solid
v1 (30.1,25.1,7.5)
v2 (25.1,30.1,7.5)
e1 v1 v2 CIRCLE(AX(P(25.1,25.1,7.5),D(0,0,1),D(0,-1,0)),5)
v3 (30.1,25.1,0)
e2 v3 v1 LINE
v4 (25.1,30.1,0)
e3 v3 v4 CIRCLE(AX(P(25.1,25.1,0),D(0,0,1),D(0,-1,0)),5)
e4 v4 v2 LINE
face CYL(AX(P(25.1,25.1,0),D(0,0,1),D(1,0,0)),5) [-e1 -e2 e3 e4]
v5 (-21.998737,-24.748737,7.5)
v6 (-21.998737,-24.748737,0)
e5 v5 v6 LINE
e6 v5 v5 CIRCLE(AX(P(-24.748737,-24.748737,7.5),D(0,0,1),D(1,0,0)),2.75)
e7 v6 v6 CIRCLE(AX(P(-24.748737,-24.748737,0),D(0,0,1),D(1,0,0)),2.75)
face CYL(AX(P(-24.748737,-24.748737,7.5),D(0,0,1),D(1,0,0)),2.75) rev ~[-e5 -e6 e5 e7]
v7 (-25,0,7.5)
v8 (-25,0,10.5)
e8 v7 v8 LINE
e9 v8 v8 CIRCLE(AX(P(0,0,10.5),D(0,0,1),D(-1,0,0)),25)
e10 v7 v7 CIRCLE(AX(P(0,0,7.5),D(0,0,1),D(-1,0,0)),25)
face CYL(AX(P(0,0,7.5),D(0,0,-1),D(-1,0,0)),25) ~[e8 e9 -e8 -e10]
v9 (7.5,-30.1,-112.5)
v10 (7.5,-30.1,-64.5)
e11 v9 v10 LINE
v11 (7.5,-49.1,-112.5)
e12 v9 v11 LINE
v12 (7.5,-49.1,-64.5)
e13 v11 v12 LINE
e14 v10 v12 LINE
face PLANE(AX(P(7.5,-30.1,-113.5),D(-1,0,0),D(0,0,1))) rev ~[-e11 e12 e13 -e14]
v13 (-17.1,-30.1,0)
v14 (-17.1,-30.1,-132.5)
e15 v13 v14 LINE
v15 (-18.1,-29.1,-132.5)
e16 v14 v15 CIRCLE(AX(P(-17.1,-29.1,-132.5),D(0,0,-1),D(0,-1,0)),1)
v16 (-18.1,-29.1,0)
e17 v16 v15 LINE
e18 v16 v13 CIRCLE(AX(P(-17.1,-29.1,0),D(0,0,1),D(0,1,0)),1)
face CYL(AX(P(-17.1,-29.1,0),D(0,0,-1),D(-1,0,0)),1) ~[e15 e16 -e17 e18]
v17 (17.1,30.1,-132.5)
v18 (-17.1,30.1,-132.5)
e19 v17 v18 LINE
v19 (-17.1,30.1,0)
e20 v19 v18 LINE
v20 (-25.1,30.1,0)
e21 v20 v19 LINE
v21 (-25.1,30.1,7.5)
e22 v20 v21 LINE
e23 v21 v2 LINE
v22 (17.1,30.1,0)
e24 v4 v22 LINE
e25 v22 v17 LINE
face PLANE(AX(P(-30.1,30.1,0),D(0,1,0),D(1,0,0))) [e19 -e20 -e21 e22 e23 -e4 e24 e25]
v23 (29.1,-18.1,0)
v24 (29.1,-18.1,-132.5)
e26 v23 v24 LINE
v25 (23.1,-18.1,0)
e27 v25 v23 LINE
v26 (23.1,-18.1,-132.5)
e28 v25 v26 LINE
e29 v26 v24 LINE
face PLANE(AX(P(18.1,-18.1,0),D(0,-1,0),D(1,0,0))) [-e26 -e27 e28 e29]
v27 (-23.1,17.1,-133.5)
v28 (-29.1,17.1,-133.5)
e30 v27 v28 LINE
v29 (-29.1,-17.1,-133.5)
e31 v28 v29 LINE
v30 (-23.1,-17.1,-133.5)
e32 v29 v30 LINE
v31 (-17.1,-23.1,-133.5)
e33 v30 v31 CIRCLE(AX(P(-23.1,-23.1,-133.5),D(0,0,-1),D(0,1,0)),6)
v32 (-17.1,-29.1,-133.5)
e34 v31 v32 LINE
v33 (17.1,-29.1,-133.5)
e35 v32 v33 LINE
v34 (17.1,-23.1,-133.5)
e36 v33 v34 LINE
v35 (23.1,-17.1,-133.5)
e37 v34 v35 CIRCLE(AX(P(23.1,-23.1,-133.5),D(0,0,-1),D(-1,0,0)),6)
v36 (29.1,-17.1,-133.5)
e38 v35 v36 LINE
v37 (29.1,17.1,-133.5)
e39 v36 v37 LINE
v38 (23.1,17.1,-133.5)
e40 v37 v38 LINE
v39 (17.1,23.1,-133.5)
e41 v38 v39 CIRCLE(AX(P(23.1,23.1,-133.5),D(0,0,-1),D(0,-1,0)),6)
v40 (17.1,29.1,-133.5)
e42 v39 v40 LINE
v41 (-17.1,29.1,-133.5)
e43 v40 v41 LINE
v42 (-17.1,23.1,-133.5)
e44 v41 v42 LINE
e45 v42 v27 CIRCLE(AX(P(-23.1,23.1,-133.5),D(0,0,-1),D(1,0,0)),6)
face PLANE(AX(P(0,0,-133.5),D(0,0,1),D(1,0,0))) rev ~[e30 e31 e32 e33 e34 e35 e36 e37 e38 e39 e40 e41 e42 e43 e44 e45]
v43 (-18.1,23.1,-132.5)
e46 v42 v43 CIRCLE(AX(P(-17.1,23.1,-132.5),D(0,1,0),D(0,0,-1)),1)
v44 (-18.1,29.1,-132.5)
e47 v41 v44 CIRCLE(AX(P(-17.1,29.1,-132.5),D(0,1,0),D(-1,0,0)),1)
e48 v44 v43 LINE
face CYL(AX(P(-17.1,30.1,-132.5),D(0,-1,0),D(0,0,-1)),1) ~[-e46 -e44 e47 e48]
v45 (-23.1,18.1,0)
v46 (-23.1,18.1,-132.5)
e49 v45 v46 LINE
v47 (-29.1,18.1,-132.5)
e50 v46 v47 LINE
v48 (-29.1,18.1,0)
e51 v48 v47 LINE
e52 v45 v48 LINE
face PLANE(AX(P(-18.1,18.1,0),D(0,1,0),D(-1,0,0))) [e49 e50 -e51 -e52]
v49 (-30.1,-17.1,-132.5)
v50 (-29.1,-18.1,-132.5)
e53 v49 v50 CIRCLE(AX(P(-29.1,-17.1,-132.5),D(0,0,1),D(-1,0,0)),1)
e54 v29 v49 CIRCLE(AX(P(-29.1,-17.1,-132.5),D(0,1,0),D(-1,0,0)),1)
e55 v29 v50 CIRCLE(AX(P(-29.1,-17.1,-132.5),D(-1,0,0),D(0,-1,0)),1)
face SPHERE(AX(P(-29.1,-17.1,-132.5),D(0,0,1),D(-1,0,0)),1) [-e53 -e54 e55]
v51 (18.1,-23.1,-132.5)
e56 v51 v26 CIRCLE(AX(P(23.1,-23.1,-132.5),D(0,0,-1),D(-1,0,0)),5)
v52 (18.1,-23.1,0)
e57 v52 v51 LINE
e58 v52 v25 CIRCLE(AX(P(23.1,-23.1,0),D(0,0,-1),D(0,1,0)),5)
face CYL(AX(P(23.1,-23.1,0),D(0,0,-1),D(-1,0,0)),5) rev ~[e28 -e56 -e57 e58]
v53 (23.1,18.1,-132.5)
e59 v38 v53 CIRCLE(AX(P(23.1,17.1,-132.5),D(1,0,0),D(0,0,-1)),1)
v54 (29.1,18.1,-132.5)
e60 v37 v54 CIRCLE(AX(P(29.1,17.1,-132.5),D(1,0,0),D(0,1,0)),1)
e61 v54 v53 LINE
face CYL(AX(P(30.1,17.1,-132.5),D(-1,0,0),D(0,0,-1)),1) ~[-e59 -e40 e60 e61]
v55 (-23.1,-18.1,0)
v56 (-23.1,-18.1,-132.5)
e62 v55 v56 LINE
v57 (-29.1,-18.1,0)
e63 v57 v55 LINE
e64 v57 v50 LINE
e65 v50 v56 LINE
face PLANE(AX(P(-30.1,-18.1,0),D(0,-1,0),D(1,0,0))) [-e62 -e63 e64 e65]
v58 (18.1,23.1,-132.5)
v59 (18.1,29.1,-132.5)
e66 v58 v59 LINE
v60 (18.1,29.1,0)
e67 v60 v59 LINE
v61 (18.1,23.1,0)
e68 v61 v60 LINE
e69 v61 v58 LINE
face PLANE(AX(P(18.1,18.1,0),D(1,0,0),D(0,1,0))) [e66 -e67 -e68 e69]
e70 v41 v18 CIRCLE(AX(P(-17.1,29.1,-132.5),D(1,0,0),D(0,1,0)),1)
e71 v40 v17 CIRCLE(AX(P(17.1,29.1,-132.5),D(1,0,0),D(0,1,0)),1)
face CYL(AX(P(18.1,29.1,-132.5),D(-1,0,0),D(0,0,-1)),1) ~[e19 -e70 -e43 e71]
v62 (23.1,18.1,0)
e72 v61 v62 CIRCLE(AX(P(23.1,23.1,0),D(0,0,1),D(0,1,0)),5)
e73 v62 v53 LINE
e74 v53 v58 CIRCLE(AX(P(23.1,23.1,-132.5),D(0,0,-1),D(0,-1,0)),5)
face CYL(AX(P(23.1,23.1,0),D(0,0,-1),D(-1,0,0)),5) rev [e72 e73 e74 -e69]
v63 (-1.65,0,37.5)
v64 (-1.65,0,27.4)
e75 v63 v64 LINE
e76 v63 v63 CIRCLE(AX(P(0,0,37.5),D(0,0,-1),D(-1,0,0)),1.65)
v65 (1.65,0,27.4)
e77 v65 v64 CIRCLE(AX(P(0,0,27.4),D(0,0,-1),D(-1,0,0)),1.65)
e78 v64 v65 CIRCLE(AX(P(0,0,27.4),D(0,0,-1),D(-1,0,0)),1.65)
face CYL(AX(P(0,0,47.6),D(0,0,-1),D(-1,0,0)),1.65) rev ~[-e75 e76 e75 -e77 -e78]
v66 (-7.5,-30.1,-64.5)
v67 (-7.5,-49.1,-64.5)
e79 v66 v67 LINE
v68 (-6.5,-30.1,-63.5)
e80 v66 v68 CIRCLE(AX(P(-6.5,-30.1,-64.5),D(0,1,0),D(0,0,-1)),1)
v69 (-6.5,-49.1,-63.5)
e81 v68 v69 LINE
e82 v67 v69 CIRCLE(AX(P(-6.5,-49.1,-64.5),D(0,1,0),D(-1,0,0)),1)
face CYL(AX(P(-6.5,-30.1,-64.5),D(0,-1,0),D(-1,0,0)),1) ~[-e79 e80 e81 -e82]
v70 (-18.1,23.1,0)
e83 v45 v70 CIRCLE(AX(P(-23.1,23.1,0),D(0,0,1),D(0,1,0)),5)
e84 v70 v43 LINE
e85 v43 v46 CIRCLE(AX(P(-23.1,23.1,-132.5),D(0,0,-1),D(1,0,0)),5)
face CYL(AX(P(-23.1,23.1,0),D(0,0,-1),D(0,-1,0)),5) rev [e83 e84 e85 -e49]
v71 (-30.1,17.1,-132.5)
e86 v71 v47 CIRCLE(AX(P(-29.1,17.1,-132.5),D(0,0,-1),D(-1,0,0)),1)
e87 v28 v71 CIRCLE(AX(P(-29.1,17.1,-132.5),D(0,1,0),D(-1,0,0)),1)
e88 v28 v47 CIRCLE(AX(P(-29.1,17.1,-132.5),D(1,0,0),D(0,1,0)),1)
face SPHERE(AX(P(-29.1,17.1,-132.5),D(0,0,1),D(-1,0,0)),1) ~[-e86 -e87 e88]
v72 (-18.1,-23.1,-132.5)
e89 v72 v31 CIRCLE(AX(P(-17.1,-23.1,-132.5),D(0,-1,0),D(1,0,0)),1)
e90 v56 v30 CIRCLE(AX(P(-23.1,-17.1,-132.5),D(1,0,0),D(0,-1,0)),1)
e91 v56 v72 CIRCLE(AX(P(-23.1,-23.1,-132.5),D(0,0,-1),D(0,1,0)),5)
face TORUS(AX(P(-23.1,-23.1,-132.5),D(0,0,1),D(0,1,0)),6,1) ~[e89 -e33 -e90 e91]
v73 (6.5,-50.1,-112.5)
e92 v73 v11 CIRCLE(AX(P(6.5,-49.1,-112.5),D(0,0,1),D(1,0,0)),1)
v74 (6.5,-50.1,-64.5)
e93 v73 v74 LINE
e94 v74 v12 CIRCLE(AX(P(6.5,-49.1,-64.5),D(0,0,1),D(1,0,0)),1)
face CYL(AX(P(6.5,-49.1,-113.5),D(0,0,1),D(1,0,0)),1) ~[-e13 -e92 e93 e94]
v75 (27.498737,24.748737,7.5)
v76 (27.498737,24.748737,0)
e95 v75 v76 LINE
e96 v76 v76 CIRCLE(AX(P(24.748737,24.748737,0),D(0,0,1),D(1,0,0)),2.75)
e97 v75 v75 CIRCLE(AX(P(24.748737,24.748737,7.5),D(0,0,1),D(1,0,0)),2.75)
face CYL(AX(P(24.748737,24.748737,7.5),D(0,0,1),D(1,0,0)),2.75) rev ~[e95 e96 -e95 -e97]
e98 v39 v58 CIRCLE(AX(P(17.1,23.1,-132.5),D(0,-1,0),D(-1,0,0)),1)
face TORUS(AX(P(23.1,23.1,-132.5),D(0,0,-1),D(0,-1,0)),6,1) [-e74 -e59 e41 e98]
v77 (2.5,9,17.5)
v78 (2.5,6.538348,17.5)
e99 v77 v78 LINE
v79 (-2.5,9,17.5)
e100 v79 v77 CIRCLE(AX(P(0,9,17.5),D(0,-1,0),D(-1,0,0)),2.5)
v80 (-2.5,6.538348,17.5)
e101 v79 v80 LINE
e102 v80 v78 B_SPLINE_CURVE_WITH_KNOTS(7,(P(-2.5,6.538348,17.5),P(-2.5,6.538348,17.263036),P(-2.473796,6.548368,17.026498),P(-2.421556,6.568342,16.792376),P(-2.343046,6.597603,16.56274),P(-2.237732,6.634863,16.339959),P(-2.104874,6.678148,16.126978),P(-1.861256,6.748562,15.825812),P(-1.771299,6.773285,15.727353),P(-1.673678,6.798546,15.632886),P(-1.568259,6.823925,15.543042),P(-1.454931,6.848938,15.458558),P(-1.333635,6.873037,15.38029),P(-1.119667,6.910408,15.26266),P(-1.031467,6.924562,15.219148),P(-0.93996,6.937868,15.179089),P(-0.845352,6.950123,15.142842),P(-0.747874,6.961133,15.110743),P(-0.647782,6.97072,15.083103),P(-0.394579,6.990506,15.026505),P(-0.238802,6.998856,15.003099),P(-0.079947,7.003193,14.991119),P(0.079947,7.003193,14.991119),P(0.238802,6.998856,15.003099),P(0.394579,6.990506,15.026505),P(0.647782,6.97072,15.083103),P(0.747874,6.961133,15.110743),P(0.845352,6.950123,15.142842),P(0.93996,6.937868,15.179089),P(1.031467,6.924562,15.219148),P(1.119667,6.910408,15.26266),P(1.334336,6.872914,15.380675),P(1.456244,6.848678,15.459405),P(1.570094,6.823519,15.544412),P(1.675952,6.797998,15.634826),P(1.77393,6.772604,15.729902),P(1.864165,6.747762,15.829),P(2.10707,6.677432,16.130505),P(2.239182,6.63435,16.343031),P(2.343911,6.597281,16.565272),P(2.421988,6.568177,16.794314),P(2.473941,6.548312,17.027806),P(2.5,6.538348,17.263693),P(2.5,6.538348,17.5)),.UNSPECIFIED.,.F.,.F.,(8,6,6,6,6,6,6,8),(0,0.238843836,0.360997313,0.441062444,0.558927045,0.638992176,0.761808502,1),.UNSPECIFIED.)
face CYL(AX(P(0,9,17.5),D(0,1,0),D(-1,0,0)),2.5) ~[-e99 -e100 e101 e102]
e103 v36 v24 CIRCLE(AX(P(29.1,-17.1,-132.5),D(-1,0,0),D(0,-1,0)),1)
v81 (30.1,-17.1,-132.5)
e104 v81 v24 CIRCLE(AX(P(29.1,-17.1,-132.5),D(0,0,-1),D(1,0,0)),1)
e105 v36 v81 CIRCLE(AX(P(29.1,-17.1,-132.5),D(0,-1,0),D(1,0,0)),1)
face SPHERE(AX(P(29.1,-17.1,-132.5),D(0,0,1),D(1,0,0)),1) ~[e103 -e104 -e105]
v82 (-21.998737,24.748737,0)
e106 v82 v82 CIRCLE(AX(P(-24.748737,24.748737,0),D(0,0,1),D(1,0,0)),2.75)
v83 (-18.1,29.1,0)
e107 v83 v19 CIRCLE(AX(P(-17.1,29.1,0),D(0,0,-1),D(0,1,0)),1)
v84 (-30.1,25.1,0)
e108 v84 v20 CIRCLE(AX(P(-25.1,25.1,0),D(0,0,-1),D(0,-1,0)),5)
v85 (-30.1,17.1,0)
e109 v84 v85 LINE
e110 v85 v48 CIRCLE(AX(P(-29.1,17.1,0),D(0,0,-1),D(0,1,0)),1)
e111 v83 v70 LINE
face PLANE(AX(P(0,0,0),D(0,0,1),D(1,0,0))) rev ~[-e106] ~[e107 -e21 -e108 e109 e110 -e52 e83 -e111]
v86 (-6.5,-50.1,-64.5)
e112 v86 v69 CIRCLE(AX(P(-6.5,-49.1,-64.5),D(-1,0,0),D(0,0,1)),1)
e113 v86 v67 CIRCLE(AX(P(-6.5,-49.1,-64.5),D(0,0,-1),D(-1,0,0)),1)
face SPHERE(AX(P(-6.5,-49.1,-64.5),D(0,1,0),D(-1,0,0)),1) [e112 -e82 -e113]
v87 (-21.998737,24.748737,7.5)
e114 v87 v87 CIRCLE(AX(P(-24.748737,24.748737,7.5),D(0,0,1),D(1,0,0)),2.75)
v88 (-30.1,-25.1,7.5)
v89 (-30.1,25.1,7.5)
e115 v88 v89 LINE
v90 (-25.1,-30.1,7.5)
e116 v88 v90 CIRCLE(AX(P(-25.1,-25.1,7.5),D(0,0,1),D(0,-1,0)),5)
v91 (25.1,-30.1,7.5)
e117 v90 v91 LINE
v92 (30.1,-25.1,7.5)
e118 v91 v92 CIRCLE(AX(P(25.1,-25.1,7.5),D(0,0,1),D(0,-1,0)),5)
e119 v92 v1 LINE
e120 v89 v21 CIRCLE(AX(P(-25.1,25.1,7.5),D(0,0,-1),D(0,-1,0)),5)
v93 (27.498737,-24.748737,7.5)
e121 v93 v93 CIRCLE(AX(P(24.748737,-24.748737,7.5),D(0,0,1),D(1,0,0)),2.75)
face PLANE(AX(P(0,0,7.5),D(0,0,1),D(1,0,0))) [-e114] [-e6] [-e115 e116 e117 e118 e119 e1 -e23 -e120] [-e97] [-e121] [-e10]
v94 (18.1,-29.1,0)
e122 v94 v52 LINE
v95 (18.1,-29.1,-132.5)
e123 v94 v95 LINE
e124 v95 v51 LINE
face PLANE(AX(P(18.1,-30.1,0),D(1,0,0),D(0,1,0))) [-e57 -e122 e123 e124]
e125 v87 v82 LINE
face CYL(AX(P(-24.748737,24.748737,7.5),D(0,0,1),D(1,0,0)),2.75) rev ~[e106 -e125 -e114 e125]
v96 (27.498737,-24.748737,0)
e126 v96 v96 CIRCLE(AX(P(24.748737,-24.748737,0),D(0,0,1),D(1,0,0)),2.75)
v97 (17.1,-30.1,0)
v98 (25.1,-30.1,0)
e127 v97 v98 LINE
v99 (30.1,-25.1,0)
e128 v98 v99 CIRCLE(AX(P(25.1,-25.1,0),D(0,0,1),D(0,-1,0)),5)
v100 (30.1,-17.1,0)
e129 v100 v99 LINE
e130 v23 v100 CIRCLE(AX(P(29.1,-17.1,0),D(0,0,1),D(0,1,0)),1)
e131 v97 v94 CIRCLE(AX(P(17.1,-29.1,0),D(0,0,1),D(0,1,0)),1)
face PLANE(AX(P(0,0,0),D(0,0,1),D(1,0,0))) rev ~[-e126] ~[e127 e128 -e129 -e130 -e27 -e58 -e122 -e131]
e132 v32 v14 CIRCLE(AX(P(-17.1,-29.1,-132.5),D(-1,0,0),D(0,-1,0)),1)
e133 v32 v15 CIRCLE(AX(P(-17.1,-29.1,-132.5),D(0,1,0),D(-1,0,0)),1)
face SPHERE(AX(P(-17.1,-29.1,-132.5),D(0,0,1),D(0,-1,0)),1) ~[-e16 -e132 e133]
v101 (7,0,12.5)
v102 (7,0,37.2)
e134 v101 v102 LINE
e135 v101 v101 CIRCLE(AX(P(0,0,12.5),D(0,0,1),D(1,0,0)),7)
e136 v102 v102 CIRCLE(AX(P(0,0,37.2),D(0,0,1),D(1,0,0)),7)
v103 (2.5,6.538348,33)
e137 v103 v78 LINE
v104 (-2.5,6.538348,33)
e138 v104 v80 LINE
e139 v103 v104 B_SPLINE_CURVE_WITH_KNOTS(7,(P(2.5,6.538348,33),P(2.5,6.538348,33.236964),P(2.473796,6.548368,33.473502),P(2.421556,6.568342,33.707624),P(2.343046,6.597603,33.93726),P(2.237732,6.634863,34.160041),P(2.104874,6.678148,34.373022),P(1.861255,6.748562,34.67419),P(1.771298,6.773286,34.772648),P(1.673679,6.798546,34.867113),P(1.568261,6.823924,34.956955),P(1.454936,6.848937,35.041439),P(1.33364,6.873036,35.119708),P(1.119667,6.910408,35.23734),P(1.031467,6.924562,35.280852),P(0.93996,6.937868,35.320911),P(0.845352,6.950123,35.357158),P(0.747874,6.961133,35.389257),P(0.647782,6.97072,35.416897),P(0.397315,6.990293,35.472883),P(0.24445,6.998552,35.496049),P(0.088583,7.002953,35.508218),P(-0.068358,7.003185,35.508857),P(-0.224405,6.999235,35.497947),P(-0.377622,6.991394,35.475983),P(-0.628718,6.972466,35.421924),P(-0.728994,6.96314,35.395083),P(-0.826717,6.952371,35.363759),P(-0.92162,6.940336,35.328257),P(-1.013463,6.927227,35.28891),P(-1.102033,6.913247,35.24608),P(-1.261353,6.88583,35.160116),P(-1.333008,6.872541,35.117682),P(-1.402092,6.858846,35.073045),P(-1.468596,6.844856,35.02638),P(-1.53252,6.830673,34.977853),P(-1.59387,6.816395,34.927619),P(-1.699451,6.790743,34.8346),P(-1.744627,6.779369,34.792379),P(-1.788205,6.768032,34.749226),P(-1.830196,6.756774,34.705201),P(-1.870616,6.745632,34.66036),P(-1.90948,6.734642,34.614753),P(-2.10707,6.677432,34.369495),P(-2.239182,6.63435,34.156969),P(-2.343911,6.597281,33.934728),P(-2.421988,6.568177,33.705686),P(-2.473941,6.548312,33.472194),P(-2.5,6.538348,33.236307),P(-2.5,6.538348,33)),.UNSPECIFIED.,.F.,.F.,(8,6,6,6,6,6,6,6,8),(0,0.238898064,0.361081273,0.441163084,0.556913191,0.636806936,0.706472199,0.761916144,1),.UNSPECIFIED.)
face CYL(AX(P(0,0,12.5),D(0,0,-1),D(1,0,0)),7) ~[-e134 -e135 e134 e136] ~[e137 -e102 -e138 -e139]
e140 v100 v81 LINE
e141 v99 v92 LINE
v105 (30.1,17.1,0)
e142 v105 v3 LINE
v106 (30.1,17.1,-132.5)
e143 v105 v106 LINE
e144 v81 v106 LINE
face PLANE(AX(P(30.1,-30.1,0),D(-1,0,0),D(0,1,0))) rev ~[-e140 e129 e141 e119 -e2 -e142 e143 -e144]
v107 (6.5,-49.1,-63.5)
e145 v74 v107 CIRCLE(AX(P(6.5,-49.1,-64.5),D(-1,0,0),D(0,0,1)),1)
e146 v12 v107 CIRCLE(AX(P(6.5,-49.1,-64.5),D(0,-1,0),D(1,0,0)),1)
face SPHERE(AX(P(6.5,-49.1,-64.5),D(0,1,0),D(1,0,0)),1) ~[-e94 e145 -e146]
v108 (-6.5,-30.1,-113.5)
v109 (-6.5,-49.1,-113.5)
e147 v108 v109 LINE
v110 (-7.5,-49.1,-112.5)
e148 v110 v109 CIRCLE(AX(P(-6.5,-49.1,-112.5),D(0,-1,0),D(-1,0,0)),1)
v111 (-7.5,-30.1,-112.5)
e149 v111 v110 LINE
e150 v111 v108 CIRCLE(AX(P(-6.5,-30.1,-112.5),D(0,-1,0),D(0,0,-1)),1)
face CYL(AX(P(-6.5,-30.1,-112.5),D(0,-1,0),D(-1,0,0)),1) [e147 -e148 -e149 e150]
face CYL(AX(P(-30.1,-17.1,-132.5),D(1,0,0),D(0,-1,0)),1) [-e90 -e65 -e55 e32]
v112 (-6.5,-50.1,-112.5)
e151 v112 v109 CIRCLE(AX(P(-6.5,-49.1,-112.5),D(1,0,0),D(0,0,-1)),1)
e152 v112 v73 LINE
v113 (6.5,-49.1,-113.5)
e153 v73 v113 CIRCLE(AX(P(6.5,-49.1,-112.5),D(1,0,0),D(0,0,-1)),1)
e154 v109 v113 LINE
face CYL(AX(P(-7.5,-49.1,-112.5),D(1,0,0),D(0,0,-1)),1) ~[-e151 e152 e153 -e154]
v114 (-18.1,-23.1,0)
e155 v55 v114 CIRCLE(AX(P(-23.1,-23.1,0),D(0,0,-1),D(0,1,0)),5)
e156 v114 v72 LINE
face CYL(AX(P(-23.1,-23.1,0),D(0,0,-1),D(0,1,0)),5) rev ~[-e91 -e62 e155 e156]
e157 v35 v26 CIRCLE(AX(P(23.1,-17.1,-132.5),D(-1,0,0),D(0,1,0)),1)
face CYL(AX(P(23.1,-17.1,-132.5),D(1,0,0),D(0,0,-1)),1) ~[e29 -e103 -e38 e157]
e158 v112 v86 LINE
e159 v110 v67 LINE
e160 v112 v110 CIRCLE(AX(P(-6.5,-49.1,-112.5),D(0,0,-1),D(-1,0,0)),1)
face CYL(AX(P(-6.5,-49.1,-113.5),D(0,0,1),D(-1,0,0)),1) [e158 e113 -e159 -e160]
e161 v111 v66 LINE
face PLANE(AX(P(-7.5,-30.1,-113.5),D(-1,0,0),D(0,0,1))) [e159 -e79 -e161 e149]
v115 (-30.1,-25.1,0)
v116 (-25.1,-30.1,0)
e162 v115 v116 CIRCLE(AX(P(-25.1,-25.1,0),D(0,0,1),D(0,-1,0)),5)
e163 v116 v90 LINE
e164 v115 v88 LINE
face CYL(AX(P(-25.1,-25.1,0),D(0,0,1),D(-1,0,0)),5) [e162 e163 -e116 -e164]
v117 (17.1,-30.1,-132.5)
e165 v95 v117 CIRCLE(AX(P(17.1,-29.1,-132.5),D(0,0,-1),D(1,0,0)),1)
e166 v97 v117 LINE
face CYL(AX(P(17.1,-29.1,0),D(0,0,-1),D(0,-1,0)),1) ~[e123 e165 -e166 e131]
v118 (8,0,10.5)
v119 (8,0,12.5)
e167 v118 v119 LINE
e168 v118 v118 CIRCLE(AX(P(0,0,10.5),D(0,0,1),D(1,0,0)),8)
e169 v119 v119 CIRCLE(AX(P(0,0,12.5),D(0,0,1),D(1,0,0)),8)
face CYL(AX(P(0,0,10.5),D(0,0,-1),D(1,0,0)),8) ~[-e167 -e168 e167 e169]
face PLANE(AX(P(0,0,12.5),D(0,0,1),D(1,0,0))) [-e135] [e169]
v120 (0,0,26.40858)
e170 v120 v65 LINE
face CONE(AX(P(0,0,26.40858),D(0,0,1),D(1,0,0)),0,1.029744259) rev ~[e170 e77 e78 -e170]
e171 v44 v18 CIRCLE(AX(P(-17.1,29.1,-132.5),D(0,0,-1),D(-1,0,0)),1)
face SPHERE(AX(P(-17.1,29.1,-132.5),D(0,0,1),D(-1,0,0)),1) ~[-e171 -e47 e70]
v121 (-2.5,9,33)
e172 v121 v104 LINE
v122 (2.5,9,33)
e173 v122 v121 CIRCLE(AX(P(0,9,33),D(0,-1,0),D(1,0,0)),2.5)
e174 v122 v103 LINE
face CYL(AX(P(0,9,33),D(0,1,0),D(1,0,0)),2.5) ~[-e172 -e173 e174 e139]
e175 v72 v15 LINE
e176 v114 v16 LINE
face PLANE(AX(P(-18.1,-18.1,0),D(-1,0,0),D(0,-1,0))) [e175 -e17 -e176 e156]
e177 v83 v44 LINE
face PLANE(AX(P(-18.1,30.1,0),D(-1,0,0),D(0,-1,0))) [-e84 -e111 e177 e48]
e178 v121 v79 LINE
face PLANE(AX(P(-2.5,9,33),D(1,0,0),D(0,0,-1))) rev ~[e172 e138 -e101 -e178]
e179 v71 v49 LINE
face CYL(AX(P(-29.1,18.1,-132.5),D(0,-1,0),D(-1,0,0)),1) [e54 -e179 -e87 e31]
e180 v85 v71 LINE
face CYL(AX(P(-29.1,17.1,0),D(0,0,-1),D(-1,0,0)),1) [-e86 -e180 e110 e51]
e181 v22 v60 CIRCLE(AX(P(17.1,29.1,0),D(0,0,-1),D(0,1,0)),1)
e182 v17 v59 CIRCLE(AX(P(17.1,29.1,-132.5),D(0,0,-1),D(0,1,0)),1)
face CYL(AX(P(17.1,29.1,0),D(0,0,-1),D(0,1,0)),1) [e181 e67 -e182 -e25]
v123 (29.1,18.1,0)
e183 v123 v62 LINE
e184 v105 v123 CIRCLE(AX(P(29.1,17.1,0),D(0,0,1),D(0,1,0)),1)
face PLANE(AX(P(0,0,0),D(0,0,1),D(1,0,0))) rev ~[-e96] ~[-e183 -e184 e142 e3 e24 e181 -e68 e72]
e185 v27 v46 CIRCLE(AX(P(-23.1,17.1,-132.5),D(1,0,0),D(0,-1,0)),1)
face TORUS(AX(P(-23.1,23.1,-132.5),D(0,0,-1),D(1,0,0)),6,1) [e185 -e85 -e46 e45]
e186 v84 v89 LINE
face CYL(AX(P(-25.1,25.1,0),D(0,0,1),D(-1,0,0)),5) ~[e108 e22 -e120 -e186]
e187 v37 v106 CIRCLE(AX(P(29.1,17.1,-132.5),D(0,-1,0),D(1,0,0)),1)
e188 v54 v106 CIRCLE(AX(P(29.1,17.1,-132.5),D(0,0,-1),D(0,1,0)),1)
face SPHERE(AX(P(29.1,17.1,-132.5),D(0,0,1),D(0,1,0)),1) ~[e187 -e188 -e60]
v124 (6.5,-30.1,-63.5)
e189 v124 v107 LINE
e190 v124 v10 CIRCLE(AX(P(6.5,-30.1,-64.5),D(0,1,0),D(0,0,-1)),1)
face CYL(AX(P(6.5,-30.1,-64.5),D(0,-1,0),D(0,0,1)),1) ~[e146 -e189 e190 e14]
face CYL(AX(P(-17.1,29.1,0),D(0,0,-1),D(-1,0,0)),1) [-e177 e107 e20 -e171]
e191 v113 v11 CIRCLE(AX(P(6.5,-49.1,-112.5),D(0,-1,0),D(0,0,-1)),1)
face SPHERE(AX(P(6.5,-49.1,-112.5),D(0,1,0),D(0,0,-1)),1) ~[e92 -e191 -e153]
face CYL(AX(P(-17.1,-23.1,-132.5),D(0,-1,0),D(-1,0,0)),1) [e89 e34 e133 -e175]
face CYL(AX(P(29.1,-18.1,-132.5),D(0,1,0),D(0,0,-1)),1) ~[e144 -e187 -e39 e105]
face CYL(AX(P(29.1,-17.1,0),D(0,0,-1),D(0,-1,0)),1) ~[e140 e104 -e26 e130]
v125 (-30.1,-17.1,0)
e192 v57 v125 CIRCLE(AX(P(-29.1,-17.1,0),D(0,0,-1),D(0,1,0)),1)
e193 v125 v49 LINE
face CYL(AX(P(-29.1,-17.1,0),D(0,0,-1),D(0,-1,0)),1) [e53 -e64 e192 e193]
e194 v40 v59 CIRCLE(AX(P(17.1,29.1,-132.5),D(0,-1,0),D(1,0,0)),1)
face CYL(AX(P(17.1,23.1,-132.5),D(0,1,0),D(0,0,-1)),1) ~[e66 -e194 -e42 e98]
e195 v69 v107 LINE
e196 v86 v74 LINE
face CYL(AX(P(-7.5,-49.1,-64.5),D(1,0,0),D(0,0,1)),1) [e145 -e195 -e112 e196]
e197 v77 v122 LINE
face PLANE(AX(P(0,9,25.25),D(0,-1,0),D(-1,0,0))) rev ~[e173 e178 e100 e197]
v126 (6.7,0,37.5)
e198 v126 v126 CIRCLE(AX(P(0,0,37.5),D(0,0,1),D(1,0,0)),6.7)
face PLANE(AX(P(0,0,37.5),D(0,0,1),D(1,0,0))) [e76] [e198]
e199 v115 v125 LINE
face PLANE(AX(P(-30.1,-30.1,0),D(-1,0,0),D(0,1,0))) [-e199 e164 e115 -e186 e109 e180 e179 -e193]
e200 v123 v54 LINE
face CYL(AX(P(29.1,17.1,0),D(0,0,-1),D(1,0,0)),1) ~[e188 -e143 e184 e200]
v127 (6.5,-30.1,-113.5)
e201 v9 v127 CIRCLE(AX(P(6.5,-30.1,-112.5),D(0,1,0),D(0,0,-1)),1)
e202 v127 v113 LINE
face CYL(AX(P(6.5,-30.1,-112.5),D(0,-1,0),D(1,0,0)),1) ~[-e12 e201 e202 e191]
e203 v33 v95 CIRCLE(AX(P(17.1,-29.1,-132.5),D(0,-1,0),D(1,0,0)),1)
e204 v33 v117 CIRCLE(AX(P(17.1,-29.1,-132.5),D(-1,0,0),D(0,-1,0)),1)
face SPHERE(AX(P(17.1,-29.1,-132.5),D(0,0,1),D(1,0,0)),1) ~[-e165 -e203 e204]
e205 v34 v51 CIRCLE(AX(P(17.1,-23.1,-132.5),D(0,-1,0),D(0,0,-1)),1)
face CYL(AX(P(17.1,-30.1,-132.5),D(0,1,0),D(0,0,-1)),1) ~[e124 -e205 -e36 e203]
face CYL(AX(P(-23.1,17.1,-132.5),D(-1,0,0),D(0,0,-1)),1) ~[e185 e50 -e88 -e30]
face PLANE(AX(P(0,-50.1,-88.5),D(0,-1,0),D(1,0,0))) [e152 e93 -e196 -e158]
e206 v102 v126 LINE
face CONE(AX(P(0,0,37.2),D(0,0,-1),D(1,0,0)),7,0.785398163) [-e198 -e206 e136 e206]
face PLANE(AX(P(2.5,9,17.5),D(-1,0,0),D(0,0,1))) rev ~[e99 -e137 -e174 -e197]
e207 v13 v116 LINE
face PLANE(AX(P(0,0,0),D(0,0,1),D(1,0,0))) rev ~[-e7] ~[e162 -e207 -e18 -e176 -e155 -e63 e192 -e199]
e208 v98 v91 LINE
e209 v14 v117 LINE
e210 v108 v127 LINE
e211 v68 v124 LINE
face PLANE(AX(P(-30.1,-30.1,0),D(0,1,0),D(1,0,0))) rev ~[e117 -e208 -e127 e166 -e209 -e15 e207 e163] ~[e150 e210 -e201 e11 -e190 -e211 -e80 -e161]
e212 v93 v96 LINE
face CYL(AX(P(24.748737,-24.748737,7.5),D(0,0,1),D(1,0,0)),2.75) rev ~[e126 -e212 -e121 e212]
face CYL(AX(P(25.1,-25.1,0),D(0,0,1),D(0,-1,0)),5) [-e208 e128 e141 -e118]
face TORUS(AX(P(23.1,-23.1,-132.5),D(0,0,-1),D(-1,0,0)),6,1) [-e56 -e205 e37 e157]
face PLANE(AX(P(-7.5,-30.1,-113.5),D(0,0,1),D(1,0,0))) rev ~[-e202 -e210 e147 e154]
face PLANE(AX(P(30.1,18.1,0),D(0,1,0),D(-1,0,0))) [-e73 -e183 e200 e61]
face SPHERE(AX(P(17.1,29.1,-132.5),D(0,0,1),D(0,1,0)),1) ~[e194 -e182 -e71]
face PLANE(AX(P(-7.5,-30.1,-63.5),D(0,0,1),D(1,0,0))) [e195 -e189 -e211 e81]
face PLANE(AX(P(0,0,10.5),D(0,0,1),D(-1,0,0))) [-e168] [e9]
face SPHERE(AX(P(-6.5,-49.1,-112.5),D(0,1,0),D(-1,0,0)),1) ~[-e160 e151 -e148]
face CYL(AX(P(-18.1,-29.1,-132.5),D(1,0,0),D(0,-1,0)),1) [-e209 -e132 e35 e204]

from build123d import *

# Parameters (mm, degrees)
SKETCH_1_W             = 60.2
SKETCH_1_H             = 60.2
EXTRUDE_1_DEPTH        = 7.5
FILLET_1_R             = 5
SKETCH_2_R             = 2.75
CUT_EXTRUDE_1_DEPTH    = 44.223488985
SKETCH_3_R             = 25
EXTRUDE_2_DEPTH        = 3
SKETCH_4_R             = 8
EXTRUDE_3_DEPTH        = 2
SKETCH_5_R             = 7
EXTRUDE_4_DEPTH        = 25
HOLE_WIZARD_M4_2_D     = 3.3
HOLE_WIZARD_M4_2_DEPTH = 10.1
HOLE_WIZARD_M4_2_TIP   = 0.991420021
CHAMFER_1_SIZE         = 0.3
EXTRUDE_5_DEPTH        = 5
EXTRUDE_6_DEPTH        = 133.5
FILLET_2_R             = 5
SKETCH_13_W            = 15
SKETCH_13_H            = 50
EXTRUDE_7_DEPTH        = 20
FILLET_3_R             = 1


with BuildPart() as part:
    # 草图1 → 凸台-拉伸1 (new body)
    with BuildSketch(Plane.XY):
        Rectangle(SKETCH_1_W, SKETCH_1_H)
    extrude(amount=EXTRUDE_1_DEPTH)

    # 圆角1
    fillet_1_edges = [part.edges().sort_by_distance(p)[0] for p in [
        (30.1, -30.1, 3.75),
        (-30.1, -30.1, 3.75),
        (-30.1, 30.1, 3.75),
        (30.1, 30.1, 3.75),
    ]]
    fillet(fillet_1_edges, radius=FILLET_1_R)

    # 草图2 → 切除-拉伸1 (cut, through all)
    with BuildSketch(Plane.XY.offset(7.5)):
        with Locations((-24.748737342, 24.748737342)):
            Circle(SKETCH_2_R)
        with Locations((24.748737342, 24.748737342)):
            Circle(SKETCH_2_R)
        with Locations((24.748737342, -24.748737342)):
            Circle(SKETCH_2_R)
        with Locations((-24.748737342, -24.748737342)):
            Circle(SKETCH_2_R)
    extrude(amount=-CUT_EXTRUDE_1_DEPTH, mode=Mode.SUBTRACT)

    # 草图3 → 凸台-拉伸2 (add)
    with BuildSketch(Plane.XY.offset(7.5)):
        with Locations(Location((0, 0, 0), (0, 0, 180))):
            Circle(SKETCH_3_R)
    extrude(amount=EXTRUDE_2_DEPTH)

    # 草图4 → 凸台-拉伸3 (add)
    with BuildSketch(Plane.XY.offset(10.5)):
        Circle(SKETCH_4_R)
    extrude(amount=EXTRUDE_3_DEPTH)

    # 草图5 → 凸台-拉伸4 (add)
    with BuildSketch(Plane.XY.offset(12.5)):
        Circle(SKETCH_5_R)
    extrude(amount=EXTRUDE_4_DEPTH)

    # M4 螺纹孔2
    with Locations(Plane.XY.offset(37.5)):
        with Locations((0, 0)):
            Hole(HOLE_WIZARD_M4_2_D / 2, depth=HOLE_WIZARD_M4_2_DEPTH)
            with Locations((0, 0, -(HOLE_WIZARD_M4_2_DEPTH + HOLE_WIZARD_M4_2_TIP / 2))):  # 118° drill point
                Cone(0, HOLE_WIZARD_M4_2_D / 2, HOLE_WIZARD_M4_2_TIP, mode=Mode.SUBTRACT)

    # 倒角1
    chamfer_1_edges = [part.edges().sort_by_distance(p)[0] for p in [
        (-7, 0, 37.5),
    ]]
    chamfer(chamfer_1_edges, length=CHAMFER_1_SIZE)

    # 草图10 → 凸台-拉伸5 (add)
    with BuildSketch(Plane(origin=(0, 9, 0), x_dir=(1, 0, 0), z_dir=(0, 1, 0))):
        with BuildLine():
            Line((-2.5, -33), (-2.5, -17.5))
            ThreePointArc((-2.5, -17.5), (0, -15), (2.5, -17.5))
            Line((2.5, -17.5), (2.5, -33))
            ThreePointArc((2.5, -33), (0, -35.5), (-2.5, -33))
        make_face()
    extrude(amount=-EXTRUDE_5_DEPTH)

    # 草图12 → 凸台-拉伸6 (add)
    with BuildSketch(Plane(origin=(0, 0, 0), x_dir=(-1, 0, 0), z_dir=(0, 0, -1))):
        Polygon((30.1, -18.1), (18.1, -18.1), (18.1, -30.1), (-18.1, -30.1), (-18.1, -18.1), (-30.1, -18.1), (-30.1, 18.1), (-18.1, 18.1), (-18.1, 30.1), (18.1, 30.1), (18.1, 18.1), (30.1, 18.1), align=None)
    extrude(amount=EXTRUDE_6_DEPTH)

    # 圆角2
    fillet_2_edges = [part.edges().sort_by_distance(p)[0] for p in [
        (-18.1, 18.1, -66.75),
        (18.1, 18.1, -66.75),
        (18.1, -18.1, -66.75),
        (-18.1, -18.1, -66.75),
    ]]
    fillet(fillet_2_edges, radius=FILLET_2_R)

    # 草图13 → 凸台-拉伸7 (add)
    with BuildSketch(Plane.XZ.offset(30.1)):
        with Locations((0, -88.5)):
            Rectangle(SKETCH_13_W, SKETCH_13_H)
    extrude(amount=EXTRUDE_7_DEPTH)

    # 圆角3
    fillet_3_edges = [part.edges().sort_by_distance(p)[0] for p in [
        (-30.1, -18.1, -66.75),
        (-30.1, 18.1, -66.75),
        (-18.1, 30.1, -66.75),
        (18.1, 30.1, -66.75),
        (30.1, 18.1, -66.75),
        (30.1, -18.1, -66.75),
        (18.1, -30.1, -66.75),
        (-18.1, -30.1, -66.75),
        (-30.1, 0, -133.5),
        (-26.6, 18.1, -133.5),
        (0, 30.1, -133.5),
        (18.1, 26.6, -133.5),
        (30.1, 0, -133.5),
        (26.6, -18.1, -133.5),
        (0, -30.1, -133.5),
        (-18.1, -26.6, -133.5),
        (-26.6, -18.1, -133.5),
        (-18.1, 26.6, -133.5),
        (26.6, 18.1, -133.5),
        (18.1, -26.6, -133.5),
        (-19.564466094, -19.564466094, -133.5),
        (-19.564466094, 19.564466094, -133.5),
        (19.564466094, 19.564466094, -133.5),
        (19.564466094, -19.564466094, -133.5),
        (-7.5, -40.1, -63.5),
        (-7.5, -40.1, -113.5),
        (7.5, -40.1, -113.5),
        (7.5, -40.1, -63.5),
        (-7.5, -50.1, -88.5),
        (0, -50.1, -113.5),
        (7.5, -50.1, -88.5),
        (0, -50.1, -63.5),
    ]]
    fillet(fillet_3_edges, radius=FILLET_3_R)


solid = part.part
